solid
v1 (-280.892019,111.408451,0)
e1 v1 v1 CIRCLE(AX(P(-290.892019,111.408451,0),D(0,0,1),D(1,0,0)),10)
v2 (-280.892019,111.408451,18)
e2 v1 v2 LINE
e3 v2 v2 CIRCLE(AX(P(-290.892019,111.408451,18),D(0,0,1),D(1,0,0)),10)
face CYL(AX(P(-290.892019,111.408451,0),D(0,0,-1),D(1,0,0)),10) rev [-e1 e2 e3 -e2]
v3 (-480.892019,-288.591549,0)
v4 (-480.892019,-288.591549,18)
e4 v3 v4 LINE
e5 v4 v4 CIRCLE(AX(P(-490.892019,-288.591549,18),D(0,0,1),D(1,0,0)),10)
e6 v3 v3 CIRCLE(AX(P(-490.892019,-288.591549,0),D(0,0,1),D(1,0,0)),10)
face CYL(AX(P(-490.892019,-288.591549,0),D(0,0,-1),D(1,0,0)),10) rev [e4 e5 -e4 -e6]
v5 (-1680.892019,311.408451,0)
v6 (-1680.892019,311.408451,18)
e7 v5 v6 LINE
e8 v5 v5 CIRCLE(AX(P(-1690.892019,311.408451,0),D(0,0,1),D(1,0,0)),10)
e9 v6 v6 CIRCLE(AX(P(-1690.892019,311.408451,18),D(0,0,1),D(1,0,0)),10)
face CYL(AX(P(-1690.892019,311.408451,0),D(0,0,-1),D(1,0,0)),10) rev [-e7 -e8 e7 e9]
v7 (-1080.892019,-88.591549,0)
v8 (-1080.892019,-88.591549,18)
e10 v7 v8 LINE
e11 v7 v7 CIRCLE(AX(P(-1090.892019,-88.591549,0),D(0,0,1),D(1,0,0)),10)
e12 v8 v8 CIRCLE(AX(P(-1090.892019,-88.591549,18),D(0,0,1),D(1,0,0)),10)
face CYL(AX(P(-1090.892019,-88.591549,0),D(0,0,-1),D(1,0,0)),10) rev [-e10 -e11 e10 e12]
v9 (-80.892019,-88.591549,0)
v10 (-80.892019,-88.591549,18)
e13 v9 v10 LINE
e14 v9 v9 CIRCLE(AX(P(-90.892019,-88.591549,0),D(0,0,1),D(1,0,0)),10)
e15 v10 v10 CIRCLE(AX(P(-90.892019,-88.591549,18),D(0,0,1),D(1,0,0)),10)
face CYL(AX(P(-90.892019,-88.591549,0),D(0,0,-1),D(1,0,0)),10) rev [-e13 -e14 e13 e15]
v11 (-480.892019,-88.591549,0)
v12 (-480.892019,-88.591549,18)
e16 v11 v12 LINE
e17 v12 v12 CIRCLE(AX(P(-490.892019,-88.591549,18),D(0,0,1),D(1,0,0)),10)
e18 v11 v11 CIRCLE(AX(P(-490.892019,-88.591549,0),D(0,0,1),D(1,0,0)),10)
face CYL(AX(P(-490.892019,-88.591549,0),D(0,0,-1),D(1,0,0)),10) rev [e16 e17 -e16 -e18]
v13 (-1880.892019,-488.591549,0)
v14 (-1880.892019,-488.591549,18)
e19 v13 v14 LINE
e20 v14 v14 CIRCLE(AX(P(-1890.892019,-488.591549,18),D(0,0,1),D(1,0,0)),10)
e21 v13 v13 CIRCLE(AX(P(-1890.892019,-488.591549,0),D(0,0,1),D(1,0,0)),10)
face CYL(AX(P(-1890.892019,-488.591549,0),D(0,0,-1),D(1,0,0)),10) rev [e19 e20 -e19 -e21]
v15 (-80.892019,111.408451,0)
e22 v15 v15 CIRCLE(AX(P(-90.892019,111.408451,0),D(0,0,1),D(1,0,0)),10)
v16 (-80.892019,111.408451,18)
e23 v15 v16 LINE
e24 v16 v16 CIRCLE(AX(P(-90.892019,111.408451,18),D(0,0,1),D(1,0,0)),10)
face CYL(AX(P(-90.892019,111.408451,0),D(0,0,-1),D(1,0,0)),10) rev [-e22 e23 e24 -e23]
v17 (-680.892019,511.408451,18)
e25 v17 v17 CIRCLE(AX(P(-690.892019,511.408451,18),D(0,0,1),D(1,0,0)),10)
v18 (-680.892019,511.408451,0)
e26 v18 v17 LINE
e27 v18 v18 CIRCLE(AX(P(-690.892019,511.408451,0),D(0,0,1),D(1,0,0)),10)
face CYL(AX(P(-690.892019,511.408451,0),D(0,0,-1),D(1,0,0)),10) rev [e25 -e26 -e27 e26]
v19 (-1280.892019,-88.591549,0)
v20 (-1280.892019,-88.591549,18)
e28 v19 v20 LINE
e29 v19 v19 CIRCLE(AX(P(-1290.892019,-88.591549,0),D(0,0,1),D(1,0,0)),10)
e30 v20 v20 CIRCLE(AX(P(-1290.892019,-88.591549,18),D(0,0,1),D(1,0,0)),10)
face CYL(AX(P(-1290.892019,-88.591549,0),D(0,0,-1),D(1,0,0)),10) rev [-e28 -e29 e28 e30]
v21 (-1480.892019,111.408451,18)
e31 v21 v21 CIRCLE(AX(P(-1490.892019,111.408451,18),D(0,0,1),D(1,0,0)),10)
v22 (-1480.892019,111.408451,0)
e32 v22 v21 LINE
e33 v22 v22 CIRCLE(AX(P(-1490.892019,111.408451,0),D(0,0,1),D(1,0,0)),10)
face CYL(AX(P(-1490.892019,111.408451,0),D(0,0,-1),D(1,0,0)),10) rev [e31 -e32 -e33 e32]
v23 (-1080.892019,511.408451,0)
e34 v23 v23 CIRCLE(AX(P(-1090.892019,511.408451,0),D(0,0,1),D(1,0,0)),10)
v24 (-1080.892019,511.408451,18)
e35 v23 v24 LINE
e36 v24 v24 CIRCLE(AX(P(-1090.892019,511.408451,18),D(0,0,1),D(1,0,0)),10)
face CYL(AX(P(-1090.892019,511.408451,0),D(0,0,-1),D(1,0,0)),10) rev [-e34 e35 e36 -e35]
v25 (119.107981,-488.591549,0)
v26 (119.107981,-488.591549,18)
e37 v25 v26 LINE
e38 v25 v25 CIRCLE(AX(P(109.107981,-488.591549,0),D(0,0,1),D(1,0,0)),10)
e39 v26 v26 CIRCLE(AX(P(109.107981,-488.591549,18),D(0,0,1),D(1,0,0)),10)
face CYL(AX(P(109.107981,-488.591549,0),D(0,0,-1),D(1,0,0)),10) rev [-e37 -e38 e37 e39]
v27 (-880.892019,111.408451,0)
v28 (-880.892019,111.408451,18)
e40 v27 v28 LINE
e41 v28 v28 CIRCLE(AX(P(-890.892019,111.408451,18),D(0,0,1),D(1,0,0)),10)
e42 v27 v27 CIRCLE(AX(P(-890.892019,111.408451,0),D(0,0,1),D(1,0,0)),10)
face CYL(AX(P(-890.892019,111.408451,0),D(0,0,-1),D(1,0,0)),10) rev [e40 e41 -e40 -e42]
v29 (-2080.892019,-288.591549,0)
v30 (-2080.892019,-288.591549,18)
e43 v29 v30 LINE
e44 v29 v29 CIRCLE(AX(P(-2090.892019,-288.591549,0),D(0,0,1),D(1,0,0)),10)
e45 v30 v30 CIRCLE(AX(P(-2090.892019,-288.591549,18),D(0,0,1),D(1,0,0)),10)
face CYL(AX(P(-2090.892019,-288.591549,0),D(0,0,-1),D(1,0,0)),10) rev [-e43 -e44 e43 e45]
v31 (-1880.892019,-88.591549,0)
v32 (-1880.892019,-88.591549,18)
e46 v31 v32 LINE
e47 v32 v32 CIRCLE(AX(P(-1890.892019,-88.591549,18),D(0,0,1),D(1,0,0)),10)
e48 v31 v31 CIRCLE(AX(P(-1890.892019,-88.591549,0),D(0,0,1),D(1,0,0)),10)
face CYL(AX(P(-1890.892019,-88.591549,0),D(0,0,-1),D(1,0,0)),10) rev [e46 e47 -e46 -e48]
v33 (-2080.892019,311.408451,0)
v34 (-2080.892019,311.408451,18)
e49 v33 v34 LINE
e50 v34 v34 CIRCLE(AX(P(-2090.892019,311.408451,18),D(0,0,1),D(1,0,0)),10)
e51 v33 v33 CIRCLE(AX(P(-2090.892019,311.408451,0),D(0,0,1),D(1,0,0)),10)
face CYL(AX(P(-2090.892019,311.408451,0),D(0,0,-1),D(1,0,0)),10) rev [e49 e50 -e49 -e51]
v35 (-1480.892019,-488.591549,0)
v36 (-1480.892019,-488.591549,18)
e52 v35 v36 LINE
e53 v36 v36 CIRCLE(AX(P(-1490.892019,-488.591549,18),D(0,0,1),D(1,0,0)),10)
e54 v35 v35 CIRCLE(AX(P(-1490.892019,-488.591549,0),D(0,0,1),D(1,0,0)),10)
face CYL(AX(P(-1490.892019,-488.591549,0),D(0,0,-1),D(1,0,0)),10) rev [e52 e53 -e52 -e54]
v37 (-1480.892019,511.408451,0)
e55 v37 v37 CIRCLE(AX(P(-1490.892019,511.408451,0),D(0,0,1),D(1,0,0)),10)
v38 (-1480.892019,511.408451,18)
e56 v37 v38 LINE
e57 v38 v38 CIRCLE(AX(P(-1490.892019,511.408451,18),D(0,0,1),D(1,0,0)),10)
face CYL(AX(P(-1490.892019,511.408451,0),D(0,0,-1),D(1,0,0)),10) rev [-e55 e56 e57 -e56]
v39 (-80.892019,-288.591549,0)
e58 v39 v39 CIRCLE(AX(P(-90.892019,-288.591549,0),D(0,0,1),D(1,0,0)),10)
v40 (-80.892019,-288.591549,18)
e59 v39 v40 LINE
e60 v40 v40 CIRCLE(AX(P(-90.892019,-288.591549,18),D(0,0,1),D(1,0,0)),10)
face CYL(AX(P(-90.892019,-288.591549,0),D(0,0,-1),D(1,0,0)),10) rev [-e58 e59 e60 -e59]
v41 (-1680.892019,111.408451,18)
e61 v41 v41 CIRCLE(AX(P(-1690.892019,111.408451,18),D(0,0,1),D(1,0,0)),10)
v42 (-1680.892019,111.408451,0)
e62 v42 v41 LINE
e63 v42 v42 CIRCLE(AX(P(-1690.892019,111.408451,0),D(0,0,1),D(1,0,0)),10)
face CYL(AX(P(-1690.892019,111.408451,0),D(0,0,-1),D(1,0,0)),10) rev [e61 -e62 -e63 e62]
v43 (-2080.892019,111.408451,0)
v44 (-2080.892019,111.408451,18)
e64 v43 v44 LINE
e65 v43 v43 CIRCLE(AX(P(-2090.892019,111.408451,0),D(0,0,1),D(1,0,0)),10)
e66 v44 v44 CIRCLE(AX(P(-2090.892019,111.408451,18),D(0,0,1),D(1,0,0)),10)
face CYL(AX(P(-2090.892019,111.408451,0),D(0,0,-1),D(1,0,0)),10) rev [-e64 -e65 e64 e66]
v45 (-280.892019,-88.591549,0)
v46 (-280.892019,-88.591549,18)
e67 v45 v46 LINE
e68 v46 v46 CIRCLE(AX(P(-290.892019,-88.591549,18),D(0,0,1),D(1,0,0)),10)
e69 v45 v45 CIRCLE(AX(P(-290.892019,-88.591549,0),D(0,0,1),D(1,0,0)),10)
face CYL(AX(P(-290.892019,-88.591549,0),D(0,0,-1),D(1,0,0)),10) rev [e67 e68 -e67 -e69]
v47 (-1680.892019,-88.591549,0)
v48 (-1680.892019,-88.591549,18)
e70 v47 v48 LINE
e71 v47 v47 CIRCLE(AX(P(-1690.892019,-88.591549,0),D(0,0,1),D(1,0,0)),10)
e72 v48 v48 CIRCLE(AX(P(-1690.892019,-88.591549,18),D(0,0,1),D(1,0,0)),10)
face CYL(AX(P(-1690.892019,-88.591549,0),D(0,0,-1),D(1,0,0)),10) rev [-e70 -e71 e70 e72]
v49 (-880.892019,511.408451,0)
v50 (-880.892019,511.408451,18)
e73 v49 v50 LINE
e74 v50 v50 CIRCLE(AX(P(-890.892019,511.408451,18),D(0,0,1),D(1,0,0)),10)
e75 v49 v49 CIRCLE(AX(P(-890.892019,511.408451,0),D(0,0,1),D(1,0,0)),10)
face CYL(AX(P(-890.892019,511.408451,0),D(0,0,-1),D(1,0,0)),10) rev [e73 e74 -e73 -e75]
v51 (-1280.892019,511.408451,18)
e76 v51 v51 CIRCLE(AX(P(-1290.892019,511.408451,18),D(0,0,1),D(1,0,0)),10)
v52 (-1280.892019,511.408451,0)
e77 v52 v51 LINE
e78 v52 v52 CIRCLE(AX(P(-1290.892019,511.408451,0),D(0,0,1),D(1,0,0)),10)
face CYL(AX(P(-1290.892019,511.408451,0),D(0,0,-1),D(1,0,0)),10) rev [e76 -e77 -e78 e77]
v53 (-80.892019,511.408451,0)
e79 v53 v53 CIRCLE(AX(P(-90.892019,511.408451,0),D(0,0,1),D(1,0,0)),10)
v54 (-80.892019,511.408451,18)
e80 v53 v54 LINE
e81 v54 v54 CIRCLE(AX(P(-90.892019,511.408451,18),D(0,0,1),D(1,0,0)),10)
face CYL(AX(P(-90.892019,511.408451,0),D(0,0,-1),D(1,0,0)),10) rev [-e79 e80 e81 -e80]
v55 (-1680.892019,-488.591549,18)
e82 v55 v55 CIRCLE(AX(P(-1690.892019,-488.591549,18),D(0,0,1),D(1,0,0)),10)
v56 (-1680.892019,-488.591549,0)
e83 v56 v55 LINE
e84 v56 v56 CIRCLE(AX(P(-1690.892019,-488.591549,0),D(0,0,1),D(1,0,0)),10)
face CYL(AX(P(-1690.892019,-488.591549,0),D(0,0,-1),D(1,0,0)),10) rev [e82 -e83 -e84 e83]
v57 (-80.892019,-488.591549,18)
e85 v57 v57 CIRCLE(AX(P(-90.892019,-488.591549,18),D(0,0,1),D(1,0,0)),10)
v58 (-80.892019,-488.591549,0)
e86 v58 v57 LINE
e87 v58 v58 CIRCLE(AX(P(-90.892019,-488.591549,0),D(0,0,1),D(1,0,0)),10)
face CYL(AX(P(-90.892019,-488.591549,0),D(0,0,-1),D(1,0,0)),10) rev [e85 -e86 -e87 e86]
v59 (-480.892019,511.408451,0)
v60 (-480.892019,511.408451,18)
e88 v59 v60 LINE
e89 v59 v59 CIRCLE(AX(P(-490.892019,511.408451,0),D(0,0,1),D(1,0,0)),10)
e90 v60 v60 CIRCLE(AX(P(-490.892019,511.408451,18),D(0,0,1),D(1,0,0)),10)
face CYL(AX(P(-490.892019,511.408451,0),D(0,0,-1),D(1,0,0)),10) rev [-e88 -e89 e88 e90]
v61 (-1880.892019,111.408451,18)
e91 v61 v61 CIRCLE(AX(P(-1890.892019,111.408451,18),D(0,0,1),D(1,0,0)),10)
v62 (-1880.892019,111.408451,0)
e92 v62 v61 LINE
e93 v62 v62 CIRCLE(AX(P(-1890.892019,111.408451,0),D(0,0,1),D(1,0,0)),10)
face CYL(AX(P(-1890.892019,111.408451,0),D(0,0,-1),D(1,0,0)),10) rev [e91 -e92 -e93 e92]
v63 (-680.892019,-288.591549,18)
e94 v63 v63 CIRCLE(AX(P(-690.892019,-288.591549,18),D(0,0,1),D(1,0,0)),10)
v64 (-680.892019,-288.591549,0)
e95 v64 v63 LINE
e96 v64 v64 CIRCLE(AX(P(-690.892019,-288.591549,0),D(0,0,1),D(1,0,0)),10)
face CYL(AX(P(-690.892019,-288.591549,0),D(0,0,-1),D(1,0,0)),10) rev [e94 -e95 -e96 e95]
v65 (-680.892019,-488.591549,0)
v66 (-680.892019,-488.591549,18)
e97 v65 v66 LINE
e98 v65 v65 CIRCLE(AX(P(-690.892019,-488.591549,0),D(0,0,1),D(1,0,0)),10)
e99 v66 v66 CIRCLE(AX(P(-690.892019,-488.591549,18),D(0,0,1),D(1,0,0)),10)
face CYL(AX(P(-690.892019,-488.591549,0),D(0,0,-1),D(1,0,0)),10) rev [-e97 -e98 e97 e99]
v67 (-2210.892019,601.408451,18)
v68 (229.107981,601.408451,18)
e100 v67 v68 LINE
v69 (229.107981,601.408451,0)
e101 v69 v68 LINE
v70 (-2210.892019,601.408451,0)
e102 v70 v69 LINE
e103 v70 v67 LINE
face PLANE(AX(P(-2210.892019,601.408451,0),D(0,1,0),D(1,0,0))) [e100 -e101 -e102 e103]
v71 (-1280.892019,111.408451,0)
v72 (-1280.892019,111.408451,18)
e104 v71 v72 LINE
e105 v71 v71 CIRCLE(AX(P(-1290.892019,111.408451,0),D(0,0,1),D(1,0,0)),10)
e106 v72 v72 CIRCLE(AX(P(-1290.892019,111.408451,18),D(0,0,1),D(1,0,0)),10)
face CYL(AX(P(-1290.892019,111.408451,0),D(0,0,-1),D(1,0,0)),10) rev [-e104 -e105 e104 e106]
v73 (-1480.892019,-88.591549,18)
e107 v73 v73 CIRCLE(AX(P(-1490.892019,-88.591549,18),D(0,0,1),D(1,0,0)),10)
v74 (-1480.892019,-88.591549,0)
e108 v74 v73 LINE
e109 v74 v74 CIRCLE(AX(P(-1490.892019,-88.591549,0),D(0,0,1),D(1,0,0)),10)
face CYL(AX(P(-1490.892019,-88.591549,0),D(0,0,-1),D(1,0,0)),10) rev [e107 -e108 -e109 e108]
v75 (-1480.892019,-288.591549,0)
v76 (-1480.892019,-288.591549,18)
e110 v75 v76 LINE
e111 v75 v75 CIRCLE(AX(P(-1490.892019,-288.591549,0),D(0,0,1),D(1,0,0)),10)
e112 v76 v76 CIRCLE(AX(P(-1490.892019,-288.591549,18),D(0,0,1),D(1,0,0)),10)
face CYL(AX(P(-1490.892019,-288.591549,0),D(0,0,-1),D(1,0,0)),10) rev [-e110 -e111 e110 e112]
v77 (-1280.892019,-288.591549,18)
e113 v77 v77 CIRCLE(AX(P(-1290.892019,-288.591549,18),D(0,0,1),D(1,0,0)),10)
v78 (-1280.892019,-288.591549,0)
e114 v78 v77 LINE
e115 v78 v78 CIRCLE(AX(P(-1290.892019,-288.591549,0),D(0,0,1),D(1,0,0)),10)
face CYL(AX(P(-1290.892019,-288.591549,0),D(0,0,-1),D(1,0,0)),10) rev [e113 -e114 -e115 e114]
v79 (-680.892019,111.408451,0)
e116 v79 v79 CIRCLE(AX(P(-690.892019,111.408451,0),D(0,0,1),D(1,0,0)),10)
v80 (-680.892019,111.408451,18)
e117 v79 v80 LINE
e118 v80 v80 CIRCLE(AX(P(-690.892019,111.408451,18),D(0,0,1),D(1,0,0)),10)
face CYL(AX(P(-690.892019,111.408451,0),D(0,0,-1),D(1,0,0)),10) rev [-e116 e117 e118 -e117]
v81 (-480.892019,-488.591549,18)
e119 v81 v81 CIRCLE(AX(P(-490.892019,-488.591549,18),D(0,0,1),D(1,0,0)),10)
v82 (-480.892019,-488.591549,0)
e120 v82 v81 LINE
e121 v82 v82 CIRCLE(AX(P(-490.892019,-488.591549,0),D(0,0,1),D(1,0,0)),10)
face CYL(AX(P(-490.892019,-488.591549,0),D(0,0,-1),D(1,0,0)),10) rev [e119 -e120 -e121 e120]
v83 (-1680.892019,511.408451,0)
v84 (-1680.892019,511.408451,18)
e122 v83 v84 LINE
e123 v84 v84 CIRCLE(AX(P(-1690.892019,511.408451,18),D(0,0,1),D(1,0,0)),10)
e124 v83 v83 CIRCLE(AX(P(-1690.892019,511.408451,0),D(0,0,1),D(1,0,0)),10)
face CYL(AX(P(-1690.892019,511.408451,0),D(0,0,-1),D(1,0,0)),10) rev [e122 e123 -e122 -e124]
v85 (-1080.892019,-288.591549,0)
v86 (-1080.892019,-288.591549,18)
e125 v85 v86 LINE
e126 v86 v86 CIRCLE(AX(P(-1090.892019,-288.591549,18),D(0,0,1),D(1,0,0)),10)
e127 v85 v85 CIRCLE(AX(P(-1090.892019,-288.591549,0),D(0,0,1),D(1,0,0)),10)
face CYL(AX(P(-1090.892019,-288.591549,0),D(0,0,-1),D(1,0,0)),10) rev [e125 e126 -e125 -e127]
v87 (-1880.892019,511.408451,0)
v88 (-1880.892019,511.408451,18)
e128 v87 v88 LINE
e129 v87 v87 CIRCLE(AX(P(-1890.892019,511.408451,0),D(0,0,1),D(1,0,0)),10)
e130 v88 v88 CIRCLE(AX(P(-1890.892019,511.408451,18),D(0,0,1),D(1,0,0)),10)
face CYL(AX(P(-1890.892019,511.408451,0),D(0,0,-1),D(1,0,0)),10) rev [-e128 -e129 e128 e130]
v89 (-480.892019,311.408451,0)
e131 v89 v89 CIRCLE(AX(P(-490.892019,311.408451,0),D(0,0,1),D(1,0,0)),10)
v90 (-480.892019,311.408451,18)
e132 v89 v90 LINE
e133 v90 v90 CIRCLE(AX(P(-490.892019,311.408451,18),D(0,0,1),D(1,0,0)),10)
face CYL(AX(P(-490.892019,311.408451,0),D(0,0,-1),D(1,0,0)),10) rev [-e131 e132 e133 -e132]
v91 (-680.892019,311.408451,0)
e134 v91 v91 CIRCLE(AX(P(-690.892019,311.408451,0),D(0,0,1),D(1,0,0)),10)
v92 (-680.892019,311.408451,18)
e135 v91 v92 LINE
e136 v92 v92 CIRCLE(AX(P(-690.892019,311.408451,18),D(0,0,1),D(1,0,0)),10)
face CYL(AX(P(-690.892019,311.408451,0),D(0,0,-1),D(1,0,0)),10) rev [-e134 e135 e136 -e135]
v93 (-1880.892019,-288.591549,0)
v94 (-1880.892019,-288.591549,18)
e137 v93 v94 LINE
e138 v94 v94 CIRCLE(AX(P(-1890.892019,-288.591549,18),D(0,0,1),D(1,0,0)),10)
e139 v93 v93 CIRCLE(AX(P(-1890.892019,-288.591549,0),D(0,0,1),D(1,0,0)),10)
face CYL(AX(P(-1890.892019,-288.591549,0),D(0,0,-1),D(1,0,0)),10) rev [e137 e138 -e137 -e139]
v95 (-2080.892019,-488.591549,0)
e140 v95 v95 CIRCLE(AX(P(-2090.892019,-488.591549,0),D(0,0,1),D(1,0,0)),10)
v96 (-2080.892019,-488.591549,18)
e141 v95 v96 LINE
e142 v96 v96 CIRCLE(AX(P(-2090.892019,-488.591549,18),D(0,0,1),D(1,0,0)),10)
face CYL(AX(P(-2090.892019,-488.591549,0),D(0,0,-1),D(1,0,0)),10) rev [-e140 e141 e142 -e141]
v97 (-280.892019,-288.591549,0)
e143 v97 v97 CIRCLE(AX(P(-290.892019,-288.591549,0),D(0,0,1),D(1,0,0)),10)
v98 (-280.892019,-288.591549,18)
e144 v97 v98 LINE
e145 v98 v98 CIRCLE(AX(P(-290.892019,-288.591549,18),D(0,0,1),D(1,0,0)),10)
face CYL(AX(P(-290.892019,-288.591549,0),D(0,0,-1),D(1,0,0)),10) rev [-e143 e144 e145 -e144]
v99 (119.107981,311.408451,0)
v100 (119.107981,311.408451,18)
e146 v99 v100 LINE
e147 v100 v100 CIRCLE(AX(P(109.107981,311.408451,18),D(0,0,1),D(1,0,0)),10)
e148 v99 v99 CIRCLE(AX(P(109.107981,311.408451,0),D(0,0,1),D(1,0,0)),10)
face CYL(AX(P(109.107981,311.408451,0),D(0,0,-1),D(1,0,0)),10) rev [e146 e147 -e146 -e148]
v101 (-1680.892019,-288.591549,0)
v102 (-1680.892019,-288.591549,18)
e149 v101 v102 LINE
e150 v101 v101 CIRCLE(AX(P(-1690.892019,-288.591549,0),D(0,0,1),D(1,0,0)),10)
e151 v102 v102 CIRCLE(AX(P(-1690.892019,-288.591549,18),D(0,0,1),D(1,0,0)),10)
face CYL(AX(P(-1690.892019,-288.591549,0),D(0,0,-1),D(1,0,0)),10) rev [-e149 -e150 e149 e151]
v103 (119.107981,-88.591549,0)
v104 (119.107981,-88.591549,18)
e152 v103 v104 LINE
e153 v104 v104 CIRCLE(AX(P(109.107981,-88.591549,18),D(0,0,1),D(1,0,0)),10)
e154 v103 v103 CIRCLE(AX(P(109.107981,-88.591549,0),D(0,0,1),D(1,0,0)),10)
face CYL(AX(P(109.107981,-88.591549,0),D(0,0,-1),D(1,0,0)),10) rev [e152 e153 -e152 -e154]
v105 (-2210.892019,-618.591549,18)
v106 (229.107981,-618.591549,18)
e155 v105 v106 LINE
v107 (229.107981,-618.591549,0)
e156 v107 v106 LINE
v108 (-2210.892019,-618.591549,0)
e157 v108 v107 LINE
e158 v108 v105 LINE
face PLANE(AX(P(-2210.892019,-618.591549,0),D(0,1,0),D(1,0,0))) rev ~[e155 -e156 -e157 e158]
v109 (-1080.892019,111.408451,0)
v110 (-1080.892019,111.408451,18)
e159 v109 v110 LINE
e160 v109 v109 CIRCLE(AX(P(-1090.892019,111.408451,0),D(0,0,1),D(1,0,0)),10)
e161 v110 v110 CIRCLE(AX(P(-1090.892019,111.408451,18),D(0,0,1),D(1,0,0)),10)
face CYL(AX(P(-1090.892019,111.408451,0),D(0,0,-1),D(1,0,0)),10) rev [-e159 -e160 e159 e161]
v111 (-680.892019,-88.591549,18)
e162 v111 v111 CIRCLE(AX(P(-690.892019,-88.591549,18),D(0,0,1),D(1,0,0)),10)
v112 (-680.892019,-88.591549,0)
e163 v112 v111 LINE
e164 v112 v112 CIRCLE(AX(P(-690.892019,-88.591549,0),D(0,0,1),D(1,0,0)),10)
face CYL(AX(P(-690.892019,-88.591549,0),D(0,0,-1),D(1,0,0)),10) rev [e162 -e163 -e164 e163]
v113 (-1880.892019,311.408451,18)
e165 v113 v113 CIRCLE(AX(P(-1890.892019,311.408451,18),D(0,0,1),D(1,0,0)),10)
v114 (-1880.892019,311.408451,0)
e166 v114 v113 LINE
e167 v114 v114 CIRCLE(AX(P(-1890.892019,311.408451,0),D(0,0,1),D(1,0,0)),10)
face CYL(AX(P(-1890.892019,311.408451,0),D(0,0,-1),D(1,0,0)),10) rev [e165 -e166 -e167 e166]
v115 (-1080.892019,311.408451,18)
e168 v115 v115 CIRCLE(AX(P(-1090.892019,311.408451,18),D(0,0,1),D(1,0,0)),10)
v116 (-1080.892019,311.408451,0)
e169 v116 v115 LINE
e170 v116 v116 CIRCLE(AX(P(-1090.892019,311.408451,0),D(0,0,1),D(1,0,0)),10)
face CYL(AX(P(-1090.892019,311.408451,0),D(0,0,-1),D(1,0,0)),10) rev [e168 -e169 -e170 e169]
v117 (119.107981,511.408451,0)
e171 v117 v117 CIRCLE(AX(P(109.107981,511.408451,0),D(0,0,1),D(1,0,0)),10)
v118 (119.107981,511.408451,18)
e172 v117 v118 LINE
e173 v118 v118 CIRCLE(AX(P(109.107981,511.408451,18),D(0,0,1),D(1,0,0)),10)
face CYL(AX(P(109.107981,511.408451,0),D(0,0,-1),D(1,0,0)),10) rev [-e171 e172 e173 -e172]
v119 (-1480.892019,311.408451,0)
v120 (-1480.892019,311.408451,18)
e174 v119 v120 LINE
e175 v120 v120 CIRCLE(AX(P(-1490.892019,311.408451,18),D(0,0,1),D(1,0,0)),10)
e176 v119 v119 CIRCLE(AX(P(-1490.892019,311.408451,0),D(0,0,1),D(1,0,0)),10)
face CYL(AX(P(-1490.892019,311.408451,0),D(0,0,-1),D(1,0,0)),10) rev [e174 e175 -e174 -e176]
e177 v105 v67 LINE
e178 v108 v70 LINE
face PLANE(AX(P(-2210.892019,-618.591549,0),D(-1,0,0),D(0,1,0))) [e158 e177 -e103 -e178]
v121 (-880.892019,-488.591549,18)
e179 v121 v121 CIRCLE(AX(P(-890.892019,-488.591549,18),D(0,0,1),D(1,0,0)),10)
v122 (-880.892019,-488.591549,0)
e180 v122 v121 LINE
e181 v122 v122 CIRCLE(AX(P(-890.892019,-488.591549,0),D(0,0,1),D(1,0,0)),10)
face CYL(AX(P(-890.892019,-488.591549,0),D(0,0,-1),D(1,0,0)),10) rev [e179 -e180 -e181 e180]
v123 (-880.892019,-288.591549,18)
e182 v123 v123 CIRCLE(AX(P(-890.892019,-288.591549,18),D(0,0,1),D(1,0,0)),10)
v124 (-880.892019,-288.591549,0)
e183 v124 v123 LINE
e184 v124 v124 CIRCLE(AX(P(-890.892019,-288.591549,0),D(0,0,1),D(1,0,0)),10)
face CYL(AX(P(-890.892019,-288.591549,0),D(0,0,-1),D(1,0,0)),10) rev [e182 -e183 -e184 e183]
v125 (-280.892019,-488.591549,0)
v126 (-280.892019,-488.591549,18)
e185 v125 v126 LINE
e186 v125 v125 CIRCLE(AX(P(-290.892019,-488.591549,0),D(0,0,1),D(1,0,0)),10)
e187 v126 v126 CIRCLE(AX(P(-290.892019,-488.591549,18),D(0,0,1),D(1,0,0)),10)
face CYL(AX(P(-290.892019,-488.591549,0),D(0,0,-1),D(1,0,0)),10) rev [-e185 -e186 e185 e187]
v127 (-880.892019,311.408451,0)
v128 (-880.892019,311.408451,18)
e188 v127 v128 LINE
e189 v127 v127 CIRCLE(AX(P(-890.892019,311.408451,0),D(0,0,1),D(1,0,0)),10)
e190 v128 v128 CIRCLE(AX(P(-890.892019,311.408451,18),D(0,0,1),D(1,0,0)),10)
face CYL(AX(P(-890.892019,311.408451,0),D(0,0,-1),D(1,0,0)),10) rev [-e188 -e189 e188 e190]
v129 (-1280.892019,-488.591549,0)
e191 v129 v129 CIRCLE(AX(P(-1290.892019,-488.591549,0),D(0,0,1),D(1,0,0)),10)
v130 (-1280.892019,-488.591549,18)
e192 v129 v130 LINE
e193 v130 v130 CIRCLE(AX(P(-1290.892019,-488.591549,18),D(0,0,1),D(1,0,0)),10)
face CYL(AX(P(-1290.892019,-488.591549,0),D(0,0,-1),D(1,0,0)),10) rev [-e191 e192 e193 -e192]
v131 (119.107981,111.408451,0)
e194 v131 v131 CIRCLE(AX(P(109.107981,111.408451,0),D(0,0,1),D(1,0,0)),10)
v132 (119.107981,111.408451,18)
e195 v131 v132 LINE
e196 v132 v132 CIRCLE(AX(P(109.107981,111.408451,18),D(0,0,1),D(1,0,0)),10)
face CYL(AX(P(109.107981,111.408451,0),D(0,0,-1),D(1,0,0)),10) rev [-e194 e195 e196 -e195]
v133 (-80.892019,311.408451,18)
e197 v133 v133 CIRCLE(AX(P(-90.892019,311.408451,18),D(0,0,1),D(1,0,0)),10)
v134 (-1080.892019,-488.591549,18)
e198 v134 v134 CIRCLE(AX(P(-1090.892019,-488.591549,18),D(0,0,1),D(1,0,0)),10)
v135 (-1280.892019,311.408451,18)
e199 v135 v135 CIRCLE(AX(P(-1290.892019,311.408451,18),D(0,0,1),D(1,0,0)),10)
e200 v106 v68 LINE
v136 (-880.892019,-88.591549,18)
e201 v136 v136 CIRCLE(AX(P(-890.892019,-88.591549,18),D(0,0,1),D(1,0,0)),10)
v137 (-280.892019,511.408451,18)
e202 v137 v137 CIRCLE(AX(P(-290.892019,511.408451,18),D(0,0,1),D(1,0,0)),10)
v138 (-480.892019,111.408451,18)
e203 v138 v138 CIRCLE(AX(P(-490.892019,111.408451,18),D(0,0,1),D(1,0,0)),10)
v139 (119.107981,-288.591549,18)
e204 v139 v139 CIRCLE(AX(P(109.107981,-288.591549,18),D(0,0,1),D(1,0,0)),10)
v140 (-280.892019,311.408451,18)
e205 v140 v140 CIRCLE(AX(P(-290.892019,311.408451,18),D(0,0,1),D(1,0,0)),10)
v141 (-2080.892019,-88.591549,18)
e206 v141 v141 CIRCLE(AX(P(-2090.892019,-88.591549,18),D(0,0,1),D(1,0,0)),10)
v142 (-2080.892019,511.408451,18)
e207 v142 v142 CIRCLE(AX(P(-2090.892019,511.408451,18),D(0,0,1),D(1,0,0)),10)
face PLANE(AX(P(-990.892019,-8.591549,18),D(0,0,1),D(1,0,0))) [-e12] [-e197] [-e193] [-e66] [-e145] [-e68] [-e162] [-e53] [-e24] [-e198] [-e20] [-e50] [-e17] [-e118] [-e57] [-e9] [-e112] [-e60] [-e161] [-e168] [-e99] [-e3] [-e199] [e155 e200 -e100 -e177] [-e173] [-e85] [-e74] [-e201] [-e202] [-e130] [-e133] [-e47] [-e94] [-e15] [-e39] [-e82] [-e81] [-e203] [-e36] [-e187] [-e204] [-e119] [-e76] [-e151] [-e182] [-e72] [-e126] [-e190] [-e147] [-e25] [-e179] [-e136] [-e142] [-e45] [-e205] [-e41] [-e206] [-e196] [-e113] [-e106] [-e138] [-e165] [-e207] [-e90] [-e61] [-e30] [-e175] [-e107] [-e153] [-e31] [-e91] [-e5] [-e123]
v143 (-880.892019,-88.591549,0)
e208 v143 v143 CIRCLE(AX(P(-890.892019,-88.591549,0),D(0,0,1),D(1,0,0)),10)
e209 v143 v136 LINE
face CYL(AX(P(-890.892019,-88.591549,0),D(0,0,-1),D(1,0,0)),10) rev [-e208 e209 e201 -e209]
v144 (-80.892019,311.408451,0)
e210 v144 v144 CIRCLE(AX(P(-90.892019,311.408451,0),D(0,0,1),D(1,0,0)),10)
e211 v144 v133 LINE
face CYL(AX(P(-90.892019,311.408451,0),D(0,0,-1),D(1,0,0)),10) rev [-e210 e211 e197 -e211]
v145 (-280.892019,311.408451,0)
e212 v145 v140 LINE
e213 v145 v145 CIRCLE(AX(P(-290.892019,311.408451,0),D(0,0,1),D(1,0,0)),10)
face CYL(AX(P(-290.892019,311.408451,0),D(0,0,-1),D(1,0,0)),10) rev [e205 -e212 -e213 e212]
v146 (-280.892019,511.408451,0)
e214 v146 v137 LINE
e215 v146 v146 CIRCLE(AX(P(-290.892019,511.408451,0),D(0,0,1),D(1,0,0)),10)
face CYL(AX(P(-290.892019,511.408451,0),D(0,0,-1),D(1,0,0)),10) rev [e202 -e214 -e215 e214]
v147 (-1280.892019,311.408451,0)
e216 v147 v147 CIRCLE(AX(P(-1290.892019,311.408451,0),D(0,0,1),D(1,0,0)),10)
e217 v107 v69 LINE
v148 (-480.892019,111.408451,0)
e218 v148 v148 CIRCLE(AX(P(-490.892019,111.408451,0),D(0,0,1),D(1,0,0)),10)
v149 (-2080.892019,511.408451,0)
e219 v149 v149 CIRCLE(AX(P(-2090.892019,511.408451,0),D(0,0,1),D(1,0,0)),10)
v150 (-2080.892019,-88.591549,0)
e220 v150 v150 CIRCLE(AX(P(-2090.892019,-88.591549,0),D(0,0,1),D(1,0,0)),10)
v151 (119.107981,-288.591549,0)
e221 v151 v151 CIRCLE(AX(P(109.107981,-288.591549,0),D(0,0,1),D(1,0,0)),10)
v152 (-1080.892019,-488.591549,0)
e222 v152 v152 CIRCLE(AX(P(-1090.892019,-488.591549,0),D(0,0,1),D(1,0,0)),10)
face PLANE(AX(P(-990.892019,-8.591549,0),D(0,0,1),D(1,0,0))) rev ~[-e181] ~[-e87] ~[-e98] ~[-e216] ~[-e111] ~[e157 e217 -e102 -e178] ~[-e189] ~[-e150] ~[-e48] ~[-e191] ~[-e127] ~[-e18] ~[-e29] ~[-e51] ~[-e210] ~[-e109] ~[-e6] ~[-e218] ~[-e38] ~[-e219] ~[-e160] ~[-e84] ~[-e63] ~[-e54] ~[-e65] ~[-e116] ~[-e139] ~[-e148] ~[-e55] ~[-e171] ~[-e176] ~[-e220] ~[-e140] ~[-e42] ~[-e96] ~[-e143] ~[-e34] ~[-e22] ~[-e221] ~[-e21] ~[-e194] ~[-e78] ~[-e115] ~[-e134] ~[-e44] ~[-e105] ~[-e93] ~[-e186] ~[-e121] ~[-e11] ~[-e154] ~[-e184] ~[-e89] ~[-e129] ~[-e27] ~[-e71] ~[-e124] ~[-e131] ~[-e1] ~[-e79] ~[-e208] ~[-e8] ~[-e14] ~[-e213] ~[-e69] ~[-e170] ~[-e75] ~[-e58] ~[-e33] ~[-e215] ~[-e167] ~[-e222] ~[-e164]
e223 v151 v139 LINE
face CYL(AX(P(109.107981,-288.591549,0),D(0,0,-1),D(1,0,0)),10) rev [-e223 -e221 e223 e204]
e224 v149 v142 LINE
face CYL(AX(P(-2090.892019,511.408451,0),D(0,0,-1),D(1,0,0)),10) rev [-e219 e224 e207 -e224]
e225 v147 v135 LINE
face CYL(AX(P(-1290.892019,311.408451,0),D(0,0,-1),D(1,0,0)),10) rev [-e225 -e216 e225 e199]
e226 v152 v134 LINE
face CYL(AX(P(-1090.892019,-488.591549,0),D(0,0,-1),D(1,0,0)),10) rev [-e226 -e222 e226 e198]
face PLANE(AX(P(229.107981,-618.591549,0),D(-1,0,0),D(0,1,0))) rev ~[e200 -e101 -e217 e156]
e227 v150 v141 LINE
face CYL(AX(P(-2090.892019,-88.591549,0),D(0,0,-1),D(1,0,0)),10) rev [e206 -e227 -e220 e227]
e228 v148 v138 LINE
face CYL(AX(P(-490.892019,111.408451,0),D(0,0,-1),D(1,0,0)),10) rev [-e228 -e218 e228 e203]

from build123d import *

# Parameters (mm, degrees)
SKETCH1_W           = 2440
SKETCH1_H           = 1220
SKETCH1_R           = 10
BOSS_EXTRUDE2_DEPTH = 18


with BuildPart() as part:
    # Sketch1 → Boss-Extrude2 (new body)
    with BuildSketch(Plane.XY):
        with Locations((-990.892018779, -8.591549296)):
            Rectangle(SKETCH1_W, SKETCH1_H)
        with Locations((-2090.892018779, 511.408450704)):
            Circle(SKETCH1_R, mode=Mode.SUBTRACT)
        with Locations((-1890.892018779, 511.408450704)):
            Circle(SKETCH1_R, mode=Mode.SUBTRACT)
        with Locations((-1690.892018779, 511.408450704)):
            Circle(SKETCH1_R, mode=Mode.SUBTRACT)
        with Locations((-1490.892018779, 511.408450704)):
            Circle(SKETCH1_R, mode=Mode.SUBTRACT)
        with Locations((-2090.892018779, 311.408450704)):
            Circle(SKETCH1_R, mode=Mode.SUBTRACT)
        with Locations((-1890.892018779, 311.408450704)):
            Circle(SKETCH1_R, mode=Mode.SUBTRACT)
        with Locations((-1690.892018779, 311.408450704)):
            Circle(SKETCH1_R, mode=Mode.SUBTRACT)
        with Locations((-1490.892018779, 311.408450704)):
            Circle(SKETCH1_R, mode=Mode.SUBTRACT)
        with Locations((-1290.892018779, 511.408450704)):
            Circle(SKETCH1_R, mode=Mode.SUBTRACT)
        with Locations((-1290.892018779, 311.408450704)):
            Circle(SKETCH1_R, mode=Mode.SUBTRACT)
        with Locations((-1090.892018779, 511.408450704)):
            Circle(SKETCH1_R, mode=Mode.SUBTRACT)
        with Locations((-1090.892018779, 311.408450704)):
            Circle(SKETCH1_R, mode=Mode.SUBTRACT)
        with Locations((-890.892018779, 511.408450704)):
            Circle(SKETCH1_R, mode=Mode.SUBTRACT)
        with Locations((-890.892018779, 311.408450704)):
            Circle(SKETCH1_R, mode=Mode.SUBTRACT)
        with Locations((-890.892018779, 111.408450704)):
            Circle(SKETCH1_R, mode=Mode.SUBTRACT)
        with Locations((-1090.892018779, 111.408450704)):
            Circle(SKETCH1_R, mode=Mode.SUBTRACT)
        with Locations((-1290.892018779, 111.408450704)):
            Circle(SKETCH1_R, mode=Mode.SUBTRACT)
        with Locations((-1490.892018779, 111.408450704)):
            Circle(SKETCH1_R, mode=Mode.SUBTRACT)
        with Locations((-1690.892018779, 111.408450704)):
            Circle(SKETCH1_R, mode=Mode.SUBTRACT)
        with Locations((-1890.892018779, 111.408450704)):
            Circle(SKETCH1_R, mode=Mode.SUBTRACT)
        with Locations((-2090.892018779, 111.408450704)):
            Circle(SKETCH1_R, mode=Mode.SUBTRACT)
        with Locations((-2090.892018779, -88.591549296)):
            Circle(SKETCH1_R, mode=Mode.SUBTRACT)
        with Locations((-1890.892018779, -88.591549296)):
            Circle(SKETCH1_R, mode=Mode.SUBTRACT)
        with Locations((-1690.892018779, -88.591549296)):
            Circle(SKETCH1_R, mode=Mode.SUBTRACT)
        with Locations((-1490.892018779, -88.591549296)):
            Circle(SKETCH1_R, mode=Mode.SUBTRACT)
        with Locations((-1290.892018779, -88.591549296)):
            Circle(SKETCH1_R, mode=Mode.SUBTRACT)
        with Locations((-1090.892018779, -88.591549296)):
            Circle(SKETCH1_R, mode=Mode.SUBTRACT)
        with Locations((-890.892018779, -88.591549296)):
            Circle(SKETCH1_R, mode=Mode.SUBTRACT)
        with Locations((-690.892018779, -88.591549296)):
            Circle(SKETCH1_R, mode=Mode.SUBTRACT)
        with Locations((-490.892018779, -88.591549296)):
            Circle(SKETCH1_R, mode=Mode.SUBTRACT)
        with Locations((-490.892018779, 111.408450704)):
            Circle(SKETCH1_R, mode=Mode.SUBTRACT)
        with Locations((-490.892018779, 311.408450704)):
            Circle(SKETCH1_R, mode=Mode.SUBTRACT)
        with Locations((-490.892018779, 511.408450704)):
            Circle(SKETCH1_R, mode=Mode.SUBTRACT)
        with Locations((-690.892018779, 511.408450704)):
            Circle(SKETCH1_R, mode=Mode.SUBTRACT)
        with Locations((-690.892018779, 311.408450704)):
            Circle(SKETCH1_R, mode=Mode.SUBTRACT)
        with Locations((-690.892018779, 111.408450704)):
            Circle(SKETCH1_R, mode=Mode.SUBTRACT)
        with Locations((-490.892018779, -288.591549296)):
            Circle(SKETCH1_R, mode=Mode.SUBTRACT)
        with Locations((-690.892018779, -288.591549296)):
            Circle(SKETCH1_R, mode=Mode.SUBTRACT)
        with Locations((-890.892018779, -288.591549296)):
            Circle(SKETCH1_R, mode=Mode.SUBTRACT)
        with Locations((-1090.892018779, -288.591549296)):
            Circle(SKETCH1_R, mode=Mode.SUBTRACT)
        with Locations((-1290.892018779, -288.591549296)):
            Circle(SKETCH1_R, mode=Mode.SUBTRACT)
        with Locations((-1490.892018779, -288.591549296)):
            Circle(SKETCH1_R, mode=Mode.SUBTRACT)
        with Locations((-1690.892018779, -288.591549296)):
            Circle(SKETCH1_R, mode=Mode.SUBTRACT)
        with Locations((-1890.892018779, -288.591549296)):
            Circle(SKETCH1_R, mode=Mode.SUBTRACT)
        with Locations((-2090.892018779, -288.591549296)):
            Circle(SKETCH1_R, mode=Mode.SUBTRACT)
        with Locations((-2090.892018779, -488.591549296)):
            Circle(SKETCH1_R, mode=Mode.SUBTRACT)
        with Locations((-1890.892018779, -488.591549296)):
            Circle(SKETCH1_R, mode=Mode.SUBTRACT)
        with Locations((-1690.892018779, -488.591549296)):
            Circle(SKETCH1_R, mode=Mode.SUBTRACT)
        with Locations((-1490.892018779, -488.591549296)):
            Circle(SKETCH1_R, mode=Mode.SUBTRACT)
        with Locations((-1290.892018779, -488.591549296)):
            Circle(SKETCH1_R, mode=Mode.SUBTRACT)
        with Locations((-1090.892018779, -488.591549296)):
            Circle(SKETCH1_R, mode=Mode.SUBTRACT)
        with Locations((-890.892018779, -488.591549296)):
            Circle(SKETCH1_R, mode=Mode.SUBTRACT)
        with Locations((-690.892018779, -488.591549296)):
            Circle(SKETCH1_R, mode=Mode.SUBTRACT)
        with Locations((-490.892018779, -488.591549296)):
            Circle(SKETCH1_R, mode=Mode.SUBTRACT)
        with Locations((-290.892018779, 511.408450704)):
            Circle(SKETCH1_R, mode=Mode.SUBTRACT)
        with Locations((-290.892018779, 311.408450704)):
            Circle(SKETCH1_R, mode=Mode.SUBTRACT)
        with Locations((-290.892018779, 111.408450704)):
            Circle(SKETCH1_R, mode=Mode.SUBTRACT)
        with Locations((-290.892018779, -88.591549296)):
            Circle(SKETCH1_R, mode=Mode.SUBTRACT)
        with Locations((-290.892018779, -288.591549296)):
            Circle(SKETCH1_R, mode=Mode.SUBTRACT)
        with Locations((-290.892018779, -488.591549296)):
            Circle(SKETCH1_R, mode=Mode.SUBTRACT)
        with Locations((-90.892018779, 511.408450704)):
            Circle(SKETCH1_R, mode=Mode.SUBTRACT)
        with Locations((-90.892018779, 311.408450704)):
            Circle(SKETCH1_R, mode=Mode.SUBTRACT)
        with Locations((-90.892018779, 111.408450704)):
            Circle(SKETCH1_R, mode=Mode.SUBTRACT)
        with Locations((-90.892018779, -88.591549296)):
            Circle(SKETCH1_R, mode=Mode.SUBTRACT)
        with Locations((-90.892018779, -288.591549296)):
            Circle(SKETCH1_R, mode=Mode.SUBTRACT)
        with Locations((-90.892018779, -488.591549296)):
            Circle(SKETCH1_R, mode=Mode.SUBTRACT)
        with Locations((109.107981221, -488.591549296)):
            Circle(SKETCH1_R, mode=Mode.SUBTRACT)
        with Locations((109.107981221, -288.591549296)):
            Circle(SKETCH1_R, mode=Mode.SUBTRACT)
        with Locations((109.107981221, -88.591549296)):
            Circle(SKETCH1_R, mode=Mode.SUBTRACT)
        with Locations((109.107981221, 111.408450704)):
            Circle(SKETCH1_R, mode=Mode.SUBTRACT)
        with Locations((109.107981221, 311.408450704)):
            Circle(SKETCH1_R, mode=Mode.SUBTRACT)
        with Locations((109.107981221, 511.408450704)):
            Circle(SKETCH1_R, mode=Mode.SUBTRACT)
    extrude(amount=BOSS_EXTRUDE2_DEPTH)


solid = part.part
